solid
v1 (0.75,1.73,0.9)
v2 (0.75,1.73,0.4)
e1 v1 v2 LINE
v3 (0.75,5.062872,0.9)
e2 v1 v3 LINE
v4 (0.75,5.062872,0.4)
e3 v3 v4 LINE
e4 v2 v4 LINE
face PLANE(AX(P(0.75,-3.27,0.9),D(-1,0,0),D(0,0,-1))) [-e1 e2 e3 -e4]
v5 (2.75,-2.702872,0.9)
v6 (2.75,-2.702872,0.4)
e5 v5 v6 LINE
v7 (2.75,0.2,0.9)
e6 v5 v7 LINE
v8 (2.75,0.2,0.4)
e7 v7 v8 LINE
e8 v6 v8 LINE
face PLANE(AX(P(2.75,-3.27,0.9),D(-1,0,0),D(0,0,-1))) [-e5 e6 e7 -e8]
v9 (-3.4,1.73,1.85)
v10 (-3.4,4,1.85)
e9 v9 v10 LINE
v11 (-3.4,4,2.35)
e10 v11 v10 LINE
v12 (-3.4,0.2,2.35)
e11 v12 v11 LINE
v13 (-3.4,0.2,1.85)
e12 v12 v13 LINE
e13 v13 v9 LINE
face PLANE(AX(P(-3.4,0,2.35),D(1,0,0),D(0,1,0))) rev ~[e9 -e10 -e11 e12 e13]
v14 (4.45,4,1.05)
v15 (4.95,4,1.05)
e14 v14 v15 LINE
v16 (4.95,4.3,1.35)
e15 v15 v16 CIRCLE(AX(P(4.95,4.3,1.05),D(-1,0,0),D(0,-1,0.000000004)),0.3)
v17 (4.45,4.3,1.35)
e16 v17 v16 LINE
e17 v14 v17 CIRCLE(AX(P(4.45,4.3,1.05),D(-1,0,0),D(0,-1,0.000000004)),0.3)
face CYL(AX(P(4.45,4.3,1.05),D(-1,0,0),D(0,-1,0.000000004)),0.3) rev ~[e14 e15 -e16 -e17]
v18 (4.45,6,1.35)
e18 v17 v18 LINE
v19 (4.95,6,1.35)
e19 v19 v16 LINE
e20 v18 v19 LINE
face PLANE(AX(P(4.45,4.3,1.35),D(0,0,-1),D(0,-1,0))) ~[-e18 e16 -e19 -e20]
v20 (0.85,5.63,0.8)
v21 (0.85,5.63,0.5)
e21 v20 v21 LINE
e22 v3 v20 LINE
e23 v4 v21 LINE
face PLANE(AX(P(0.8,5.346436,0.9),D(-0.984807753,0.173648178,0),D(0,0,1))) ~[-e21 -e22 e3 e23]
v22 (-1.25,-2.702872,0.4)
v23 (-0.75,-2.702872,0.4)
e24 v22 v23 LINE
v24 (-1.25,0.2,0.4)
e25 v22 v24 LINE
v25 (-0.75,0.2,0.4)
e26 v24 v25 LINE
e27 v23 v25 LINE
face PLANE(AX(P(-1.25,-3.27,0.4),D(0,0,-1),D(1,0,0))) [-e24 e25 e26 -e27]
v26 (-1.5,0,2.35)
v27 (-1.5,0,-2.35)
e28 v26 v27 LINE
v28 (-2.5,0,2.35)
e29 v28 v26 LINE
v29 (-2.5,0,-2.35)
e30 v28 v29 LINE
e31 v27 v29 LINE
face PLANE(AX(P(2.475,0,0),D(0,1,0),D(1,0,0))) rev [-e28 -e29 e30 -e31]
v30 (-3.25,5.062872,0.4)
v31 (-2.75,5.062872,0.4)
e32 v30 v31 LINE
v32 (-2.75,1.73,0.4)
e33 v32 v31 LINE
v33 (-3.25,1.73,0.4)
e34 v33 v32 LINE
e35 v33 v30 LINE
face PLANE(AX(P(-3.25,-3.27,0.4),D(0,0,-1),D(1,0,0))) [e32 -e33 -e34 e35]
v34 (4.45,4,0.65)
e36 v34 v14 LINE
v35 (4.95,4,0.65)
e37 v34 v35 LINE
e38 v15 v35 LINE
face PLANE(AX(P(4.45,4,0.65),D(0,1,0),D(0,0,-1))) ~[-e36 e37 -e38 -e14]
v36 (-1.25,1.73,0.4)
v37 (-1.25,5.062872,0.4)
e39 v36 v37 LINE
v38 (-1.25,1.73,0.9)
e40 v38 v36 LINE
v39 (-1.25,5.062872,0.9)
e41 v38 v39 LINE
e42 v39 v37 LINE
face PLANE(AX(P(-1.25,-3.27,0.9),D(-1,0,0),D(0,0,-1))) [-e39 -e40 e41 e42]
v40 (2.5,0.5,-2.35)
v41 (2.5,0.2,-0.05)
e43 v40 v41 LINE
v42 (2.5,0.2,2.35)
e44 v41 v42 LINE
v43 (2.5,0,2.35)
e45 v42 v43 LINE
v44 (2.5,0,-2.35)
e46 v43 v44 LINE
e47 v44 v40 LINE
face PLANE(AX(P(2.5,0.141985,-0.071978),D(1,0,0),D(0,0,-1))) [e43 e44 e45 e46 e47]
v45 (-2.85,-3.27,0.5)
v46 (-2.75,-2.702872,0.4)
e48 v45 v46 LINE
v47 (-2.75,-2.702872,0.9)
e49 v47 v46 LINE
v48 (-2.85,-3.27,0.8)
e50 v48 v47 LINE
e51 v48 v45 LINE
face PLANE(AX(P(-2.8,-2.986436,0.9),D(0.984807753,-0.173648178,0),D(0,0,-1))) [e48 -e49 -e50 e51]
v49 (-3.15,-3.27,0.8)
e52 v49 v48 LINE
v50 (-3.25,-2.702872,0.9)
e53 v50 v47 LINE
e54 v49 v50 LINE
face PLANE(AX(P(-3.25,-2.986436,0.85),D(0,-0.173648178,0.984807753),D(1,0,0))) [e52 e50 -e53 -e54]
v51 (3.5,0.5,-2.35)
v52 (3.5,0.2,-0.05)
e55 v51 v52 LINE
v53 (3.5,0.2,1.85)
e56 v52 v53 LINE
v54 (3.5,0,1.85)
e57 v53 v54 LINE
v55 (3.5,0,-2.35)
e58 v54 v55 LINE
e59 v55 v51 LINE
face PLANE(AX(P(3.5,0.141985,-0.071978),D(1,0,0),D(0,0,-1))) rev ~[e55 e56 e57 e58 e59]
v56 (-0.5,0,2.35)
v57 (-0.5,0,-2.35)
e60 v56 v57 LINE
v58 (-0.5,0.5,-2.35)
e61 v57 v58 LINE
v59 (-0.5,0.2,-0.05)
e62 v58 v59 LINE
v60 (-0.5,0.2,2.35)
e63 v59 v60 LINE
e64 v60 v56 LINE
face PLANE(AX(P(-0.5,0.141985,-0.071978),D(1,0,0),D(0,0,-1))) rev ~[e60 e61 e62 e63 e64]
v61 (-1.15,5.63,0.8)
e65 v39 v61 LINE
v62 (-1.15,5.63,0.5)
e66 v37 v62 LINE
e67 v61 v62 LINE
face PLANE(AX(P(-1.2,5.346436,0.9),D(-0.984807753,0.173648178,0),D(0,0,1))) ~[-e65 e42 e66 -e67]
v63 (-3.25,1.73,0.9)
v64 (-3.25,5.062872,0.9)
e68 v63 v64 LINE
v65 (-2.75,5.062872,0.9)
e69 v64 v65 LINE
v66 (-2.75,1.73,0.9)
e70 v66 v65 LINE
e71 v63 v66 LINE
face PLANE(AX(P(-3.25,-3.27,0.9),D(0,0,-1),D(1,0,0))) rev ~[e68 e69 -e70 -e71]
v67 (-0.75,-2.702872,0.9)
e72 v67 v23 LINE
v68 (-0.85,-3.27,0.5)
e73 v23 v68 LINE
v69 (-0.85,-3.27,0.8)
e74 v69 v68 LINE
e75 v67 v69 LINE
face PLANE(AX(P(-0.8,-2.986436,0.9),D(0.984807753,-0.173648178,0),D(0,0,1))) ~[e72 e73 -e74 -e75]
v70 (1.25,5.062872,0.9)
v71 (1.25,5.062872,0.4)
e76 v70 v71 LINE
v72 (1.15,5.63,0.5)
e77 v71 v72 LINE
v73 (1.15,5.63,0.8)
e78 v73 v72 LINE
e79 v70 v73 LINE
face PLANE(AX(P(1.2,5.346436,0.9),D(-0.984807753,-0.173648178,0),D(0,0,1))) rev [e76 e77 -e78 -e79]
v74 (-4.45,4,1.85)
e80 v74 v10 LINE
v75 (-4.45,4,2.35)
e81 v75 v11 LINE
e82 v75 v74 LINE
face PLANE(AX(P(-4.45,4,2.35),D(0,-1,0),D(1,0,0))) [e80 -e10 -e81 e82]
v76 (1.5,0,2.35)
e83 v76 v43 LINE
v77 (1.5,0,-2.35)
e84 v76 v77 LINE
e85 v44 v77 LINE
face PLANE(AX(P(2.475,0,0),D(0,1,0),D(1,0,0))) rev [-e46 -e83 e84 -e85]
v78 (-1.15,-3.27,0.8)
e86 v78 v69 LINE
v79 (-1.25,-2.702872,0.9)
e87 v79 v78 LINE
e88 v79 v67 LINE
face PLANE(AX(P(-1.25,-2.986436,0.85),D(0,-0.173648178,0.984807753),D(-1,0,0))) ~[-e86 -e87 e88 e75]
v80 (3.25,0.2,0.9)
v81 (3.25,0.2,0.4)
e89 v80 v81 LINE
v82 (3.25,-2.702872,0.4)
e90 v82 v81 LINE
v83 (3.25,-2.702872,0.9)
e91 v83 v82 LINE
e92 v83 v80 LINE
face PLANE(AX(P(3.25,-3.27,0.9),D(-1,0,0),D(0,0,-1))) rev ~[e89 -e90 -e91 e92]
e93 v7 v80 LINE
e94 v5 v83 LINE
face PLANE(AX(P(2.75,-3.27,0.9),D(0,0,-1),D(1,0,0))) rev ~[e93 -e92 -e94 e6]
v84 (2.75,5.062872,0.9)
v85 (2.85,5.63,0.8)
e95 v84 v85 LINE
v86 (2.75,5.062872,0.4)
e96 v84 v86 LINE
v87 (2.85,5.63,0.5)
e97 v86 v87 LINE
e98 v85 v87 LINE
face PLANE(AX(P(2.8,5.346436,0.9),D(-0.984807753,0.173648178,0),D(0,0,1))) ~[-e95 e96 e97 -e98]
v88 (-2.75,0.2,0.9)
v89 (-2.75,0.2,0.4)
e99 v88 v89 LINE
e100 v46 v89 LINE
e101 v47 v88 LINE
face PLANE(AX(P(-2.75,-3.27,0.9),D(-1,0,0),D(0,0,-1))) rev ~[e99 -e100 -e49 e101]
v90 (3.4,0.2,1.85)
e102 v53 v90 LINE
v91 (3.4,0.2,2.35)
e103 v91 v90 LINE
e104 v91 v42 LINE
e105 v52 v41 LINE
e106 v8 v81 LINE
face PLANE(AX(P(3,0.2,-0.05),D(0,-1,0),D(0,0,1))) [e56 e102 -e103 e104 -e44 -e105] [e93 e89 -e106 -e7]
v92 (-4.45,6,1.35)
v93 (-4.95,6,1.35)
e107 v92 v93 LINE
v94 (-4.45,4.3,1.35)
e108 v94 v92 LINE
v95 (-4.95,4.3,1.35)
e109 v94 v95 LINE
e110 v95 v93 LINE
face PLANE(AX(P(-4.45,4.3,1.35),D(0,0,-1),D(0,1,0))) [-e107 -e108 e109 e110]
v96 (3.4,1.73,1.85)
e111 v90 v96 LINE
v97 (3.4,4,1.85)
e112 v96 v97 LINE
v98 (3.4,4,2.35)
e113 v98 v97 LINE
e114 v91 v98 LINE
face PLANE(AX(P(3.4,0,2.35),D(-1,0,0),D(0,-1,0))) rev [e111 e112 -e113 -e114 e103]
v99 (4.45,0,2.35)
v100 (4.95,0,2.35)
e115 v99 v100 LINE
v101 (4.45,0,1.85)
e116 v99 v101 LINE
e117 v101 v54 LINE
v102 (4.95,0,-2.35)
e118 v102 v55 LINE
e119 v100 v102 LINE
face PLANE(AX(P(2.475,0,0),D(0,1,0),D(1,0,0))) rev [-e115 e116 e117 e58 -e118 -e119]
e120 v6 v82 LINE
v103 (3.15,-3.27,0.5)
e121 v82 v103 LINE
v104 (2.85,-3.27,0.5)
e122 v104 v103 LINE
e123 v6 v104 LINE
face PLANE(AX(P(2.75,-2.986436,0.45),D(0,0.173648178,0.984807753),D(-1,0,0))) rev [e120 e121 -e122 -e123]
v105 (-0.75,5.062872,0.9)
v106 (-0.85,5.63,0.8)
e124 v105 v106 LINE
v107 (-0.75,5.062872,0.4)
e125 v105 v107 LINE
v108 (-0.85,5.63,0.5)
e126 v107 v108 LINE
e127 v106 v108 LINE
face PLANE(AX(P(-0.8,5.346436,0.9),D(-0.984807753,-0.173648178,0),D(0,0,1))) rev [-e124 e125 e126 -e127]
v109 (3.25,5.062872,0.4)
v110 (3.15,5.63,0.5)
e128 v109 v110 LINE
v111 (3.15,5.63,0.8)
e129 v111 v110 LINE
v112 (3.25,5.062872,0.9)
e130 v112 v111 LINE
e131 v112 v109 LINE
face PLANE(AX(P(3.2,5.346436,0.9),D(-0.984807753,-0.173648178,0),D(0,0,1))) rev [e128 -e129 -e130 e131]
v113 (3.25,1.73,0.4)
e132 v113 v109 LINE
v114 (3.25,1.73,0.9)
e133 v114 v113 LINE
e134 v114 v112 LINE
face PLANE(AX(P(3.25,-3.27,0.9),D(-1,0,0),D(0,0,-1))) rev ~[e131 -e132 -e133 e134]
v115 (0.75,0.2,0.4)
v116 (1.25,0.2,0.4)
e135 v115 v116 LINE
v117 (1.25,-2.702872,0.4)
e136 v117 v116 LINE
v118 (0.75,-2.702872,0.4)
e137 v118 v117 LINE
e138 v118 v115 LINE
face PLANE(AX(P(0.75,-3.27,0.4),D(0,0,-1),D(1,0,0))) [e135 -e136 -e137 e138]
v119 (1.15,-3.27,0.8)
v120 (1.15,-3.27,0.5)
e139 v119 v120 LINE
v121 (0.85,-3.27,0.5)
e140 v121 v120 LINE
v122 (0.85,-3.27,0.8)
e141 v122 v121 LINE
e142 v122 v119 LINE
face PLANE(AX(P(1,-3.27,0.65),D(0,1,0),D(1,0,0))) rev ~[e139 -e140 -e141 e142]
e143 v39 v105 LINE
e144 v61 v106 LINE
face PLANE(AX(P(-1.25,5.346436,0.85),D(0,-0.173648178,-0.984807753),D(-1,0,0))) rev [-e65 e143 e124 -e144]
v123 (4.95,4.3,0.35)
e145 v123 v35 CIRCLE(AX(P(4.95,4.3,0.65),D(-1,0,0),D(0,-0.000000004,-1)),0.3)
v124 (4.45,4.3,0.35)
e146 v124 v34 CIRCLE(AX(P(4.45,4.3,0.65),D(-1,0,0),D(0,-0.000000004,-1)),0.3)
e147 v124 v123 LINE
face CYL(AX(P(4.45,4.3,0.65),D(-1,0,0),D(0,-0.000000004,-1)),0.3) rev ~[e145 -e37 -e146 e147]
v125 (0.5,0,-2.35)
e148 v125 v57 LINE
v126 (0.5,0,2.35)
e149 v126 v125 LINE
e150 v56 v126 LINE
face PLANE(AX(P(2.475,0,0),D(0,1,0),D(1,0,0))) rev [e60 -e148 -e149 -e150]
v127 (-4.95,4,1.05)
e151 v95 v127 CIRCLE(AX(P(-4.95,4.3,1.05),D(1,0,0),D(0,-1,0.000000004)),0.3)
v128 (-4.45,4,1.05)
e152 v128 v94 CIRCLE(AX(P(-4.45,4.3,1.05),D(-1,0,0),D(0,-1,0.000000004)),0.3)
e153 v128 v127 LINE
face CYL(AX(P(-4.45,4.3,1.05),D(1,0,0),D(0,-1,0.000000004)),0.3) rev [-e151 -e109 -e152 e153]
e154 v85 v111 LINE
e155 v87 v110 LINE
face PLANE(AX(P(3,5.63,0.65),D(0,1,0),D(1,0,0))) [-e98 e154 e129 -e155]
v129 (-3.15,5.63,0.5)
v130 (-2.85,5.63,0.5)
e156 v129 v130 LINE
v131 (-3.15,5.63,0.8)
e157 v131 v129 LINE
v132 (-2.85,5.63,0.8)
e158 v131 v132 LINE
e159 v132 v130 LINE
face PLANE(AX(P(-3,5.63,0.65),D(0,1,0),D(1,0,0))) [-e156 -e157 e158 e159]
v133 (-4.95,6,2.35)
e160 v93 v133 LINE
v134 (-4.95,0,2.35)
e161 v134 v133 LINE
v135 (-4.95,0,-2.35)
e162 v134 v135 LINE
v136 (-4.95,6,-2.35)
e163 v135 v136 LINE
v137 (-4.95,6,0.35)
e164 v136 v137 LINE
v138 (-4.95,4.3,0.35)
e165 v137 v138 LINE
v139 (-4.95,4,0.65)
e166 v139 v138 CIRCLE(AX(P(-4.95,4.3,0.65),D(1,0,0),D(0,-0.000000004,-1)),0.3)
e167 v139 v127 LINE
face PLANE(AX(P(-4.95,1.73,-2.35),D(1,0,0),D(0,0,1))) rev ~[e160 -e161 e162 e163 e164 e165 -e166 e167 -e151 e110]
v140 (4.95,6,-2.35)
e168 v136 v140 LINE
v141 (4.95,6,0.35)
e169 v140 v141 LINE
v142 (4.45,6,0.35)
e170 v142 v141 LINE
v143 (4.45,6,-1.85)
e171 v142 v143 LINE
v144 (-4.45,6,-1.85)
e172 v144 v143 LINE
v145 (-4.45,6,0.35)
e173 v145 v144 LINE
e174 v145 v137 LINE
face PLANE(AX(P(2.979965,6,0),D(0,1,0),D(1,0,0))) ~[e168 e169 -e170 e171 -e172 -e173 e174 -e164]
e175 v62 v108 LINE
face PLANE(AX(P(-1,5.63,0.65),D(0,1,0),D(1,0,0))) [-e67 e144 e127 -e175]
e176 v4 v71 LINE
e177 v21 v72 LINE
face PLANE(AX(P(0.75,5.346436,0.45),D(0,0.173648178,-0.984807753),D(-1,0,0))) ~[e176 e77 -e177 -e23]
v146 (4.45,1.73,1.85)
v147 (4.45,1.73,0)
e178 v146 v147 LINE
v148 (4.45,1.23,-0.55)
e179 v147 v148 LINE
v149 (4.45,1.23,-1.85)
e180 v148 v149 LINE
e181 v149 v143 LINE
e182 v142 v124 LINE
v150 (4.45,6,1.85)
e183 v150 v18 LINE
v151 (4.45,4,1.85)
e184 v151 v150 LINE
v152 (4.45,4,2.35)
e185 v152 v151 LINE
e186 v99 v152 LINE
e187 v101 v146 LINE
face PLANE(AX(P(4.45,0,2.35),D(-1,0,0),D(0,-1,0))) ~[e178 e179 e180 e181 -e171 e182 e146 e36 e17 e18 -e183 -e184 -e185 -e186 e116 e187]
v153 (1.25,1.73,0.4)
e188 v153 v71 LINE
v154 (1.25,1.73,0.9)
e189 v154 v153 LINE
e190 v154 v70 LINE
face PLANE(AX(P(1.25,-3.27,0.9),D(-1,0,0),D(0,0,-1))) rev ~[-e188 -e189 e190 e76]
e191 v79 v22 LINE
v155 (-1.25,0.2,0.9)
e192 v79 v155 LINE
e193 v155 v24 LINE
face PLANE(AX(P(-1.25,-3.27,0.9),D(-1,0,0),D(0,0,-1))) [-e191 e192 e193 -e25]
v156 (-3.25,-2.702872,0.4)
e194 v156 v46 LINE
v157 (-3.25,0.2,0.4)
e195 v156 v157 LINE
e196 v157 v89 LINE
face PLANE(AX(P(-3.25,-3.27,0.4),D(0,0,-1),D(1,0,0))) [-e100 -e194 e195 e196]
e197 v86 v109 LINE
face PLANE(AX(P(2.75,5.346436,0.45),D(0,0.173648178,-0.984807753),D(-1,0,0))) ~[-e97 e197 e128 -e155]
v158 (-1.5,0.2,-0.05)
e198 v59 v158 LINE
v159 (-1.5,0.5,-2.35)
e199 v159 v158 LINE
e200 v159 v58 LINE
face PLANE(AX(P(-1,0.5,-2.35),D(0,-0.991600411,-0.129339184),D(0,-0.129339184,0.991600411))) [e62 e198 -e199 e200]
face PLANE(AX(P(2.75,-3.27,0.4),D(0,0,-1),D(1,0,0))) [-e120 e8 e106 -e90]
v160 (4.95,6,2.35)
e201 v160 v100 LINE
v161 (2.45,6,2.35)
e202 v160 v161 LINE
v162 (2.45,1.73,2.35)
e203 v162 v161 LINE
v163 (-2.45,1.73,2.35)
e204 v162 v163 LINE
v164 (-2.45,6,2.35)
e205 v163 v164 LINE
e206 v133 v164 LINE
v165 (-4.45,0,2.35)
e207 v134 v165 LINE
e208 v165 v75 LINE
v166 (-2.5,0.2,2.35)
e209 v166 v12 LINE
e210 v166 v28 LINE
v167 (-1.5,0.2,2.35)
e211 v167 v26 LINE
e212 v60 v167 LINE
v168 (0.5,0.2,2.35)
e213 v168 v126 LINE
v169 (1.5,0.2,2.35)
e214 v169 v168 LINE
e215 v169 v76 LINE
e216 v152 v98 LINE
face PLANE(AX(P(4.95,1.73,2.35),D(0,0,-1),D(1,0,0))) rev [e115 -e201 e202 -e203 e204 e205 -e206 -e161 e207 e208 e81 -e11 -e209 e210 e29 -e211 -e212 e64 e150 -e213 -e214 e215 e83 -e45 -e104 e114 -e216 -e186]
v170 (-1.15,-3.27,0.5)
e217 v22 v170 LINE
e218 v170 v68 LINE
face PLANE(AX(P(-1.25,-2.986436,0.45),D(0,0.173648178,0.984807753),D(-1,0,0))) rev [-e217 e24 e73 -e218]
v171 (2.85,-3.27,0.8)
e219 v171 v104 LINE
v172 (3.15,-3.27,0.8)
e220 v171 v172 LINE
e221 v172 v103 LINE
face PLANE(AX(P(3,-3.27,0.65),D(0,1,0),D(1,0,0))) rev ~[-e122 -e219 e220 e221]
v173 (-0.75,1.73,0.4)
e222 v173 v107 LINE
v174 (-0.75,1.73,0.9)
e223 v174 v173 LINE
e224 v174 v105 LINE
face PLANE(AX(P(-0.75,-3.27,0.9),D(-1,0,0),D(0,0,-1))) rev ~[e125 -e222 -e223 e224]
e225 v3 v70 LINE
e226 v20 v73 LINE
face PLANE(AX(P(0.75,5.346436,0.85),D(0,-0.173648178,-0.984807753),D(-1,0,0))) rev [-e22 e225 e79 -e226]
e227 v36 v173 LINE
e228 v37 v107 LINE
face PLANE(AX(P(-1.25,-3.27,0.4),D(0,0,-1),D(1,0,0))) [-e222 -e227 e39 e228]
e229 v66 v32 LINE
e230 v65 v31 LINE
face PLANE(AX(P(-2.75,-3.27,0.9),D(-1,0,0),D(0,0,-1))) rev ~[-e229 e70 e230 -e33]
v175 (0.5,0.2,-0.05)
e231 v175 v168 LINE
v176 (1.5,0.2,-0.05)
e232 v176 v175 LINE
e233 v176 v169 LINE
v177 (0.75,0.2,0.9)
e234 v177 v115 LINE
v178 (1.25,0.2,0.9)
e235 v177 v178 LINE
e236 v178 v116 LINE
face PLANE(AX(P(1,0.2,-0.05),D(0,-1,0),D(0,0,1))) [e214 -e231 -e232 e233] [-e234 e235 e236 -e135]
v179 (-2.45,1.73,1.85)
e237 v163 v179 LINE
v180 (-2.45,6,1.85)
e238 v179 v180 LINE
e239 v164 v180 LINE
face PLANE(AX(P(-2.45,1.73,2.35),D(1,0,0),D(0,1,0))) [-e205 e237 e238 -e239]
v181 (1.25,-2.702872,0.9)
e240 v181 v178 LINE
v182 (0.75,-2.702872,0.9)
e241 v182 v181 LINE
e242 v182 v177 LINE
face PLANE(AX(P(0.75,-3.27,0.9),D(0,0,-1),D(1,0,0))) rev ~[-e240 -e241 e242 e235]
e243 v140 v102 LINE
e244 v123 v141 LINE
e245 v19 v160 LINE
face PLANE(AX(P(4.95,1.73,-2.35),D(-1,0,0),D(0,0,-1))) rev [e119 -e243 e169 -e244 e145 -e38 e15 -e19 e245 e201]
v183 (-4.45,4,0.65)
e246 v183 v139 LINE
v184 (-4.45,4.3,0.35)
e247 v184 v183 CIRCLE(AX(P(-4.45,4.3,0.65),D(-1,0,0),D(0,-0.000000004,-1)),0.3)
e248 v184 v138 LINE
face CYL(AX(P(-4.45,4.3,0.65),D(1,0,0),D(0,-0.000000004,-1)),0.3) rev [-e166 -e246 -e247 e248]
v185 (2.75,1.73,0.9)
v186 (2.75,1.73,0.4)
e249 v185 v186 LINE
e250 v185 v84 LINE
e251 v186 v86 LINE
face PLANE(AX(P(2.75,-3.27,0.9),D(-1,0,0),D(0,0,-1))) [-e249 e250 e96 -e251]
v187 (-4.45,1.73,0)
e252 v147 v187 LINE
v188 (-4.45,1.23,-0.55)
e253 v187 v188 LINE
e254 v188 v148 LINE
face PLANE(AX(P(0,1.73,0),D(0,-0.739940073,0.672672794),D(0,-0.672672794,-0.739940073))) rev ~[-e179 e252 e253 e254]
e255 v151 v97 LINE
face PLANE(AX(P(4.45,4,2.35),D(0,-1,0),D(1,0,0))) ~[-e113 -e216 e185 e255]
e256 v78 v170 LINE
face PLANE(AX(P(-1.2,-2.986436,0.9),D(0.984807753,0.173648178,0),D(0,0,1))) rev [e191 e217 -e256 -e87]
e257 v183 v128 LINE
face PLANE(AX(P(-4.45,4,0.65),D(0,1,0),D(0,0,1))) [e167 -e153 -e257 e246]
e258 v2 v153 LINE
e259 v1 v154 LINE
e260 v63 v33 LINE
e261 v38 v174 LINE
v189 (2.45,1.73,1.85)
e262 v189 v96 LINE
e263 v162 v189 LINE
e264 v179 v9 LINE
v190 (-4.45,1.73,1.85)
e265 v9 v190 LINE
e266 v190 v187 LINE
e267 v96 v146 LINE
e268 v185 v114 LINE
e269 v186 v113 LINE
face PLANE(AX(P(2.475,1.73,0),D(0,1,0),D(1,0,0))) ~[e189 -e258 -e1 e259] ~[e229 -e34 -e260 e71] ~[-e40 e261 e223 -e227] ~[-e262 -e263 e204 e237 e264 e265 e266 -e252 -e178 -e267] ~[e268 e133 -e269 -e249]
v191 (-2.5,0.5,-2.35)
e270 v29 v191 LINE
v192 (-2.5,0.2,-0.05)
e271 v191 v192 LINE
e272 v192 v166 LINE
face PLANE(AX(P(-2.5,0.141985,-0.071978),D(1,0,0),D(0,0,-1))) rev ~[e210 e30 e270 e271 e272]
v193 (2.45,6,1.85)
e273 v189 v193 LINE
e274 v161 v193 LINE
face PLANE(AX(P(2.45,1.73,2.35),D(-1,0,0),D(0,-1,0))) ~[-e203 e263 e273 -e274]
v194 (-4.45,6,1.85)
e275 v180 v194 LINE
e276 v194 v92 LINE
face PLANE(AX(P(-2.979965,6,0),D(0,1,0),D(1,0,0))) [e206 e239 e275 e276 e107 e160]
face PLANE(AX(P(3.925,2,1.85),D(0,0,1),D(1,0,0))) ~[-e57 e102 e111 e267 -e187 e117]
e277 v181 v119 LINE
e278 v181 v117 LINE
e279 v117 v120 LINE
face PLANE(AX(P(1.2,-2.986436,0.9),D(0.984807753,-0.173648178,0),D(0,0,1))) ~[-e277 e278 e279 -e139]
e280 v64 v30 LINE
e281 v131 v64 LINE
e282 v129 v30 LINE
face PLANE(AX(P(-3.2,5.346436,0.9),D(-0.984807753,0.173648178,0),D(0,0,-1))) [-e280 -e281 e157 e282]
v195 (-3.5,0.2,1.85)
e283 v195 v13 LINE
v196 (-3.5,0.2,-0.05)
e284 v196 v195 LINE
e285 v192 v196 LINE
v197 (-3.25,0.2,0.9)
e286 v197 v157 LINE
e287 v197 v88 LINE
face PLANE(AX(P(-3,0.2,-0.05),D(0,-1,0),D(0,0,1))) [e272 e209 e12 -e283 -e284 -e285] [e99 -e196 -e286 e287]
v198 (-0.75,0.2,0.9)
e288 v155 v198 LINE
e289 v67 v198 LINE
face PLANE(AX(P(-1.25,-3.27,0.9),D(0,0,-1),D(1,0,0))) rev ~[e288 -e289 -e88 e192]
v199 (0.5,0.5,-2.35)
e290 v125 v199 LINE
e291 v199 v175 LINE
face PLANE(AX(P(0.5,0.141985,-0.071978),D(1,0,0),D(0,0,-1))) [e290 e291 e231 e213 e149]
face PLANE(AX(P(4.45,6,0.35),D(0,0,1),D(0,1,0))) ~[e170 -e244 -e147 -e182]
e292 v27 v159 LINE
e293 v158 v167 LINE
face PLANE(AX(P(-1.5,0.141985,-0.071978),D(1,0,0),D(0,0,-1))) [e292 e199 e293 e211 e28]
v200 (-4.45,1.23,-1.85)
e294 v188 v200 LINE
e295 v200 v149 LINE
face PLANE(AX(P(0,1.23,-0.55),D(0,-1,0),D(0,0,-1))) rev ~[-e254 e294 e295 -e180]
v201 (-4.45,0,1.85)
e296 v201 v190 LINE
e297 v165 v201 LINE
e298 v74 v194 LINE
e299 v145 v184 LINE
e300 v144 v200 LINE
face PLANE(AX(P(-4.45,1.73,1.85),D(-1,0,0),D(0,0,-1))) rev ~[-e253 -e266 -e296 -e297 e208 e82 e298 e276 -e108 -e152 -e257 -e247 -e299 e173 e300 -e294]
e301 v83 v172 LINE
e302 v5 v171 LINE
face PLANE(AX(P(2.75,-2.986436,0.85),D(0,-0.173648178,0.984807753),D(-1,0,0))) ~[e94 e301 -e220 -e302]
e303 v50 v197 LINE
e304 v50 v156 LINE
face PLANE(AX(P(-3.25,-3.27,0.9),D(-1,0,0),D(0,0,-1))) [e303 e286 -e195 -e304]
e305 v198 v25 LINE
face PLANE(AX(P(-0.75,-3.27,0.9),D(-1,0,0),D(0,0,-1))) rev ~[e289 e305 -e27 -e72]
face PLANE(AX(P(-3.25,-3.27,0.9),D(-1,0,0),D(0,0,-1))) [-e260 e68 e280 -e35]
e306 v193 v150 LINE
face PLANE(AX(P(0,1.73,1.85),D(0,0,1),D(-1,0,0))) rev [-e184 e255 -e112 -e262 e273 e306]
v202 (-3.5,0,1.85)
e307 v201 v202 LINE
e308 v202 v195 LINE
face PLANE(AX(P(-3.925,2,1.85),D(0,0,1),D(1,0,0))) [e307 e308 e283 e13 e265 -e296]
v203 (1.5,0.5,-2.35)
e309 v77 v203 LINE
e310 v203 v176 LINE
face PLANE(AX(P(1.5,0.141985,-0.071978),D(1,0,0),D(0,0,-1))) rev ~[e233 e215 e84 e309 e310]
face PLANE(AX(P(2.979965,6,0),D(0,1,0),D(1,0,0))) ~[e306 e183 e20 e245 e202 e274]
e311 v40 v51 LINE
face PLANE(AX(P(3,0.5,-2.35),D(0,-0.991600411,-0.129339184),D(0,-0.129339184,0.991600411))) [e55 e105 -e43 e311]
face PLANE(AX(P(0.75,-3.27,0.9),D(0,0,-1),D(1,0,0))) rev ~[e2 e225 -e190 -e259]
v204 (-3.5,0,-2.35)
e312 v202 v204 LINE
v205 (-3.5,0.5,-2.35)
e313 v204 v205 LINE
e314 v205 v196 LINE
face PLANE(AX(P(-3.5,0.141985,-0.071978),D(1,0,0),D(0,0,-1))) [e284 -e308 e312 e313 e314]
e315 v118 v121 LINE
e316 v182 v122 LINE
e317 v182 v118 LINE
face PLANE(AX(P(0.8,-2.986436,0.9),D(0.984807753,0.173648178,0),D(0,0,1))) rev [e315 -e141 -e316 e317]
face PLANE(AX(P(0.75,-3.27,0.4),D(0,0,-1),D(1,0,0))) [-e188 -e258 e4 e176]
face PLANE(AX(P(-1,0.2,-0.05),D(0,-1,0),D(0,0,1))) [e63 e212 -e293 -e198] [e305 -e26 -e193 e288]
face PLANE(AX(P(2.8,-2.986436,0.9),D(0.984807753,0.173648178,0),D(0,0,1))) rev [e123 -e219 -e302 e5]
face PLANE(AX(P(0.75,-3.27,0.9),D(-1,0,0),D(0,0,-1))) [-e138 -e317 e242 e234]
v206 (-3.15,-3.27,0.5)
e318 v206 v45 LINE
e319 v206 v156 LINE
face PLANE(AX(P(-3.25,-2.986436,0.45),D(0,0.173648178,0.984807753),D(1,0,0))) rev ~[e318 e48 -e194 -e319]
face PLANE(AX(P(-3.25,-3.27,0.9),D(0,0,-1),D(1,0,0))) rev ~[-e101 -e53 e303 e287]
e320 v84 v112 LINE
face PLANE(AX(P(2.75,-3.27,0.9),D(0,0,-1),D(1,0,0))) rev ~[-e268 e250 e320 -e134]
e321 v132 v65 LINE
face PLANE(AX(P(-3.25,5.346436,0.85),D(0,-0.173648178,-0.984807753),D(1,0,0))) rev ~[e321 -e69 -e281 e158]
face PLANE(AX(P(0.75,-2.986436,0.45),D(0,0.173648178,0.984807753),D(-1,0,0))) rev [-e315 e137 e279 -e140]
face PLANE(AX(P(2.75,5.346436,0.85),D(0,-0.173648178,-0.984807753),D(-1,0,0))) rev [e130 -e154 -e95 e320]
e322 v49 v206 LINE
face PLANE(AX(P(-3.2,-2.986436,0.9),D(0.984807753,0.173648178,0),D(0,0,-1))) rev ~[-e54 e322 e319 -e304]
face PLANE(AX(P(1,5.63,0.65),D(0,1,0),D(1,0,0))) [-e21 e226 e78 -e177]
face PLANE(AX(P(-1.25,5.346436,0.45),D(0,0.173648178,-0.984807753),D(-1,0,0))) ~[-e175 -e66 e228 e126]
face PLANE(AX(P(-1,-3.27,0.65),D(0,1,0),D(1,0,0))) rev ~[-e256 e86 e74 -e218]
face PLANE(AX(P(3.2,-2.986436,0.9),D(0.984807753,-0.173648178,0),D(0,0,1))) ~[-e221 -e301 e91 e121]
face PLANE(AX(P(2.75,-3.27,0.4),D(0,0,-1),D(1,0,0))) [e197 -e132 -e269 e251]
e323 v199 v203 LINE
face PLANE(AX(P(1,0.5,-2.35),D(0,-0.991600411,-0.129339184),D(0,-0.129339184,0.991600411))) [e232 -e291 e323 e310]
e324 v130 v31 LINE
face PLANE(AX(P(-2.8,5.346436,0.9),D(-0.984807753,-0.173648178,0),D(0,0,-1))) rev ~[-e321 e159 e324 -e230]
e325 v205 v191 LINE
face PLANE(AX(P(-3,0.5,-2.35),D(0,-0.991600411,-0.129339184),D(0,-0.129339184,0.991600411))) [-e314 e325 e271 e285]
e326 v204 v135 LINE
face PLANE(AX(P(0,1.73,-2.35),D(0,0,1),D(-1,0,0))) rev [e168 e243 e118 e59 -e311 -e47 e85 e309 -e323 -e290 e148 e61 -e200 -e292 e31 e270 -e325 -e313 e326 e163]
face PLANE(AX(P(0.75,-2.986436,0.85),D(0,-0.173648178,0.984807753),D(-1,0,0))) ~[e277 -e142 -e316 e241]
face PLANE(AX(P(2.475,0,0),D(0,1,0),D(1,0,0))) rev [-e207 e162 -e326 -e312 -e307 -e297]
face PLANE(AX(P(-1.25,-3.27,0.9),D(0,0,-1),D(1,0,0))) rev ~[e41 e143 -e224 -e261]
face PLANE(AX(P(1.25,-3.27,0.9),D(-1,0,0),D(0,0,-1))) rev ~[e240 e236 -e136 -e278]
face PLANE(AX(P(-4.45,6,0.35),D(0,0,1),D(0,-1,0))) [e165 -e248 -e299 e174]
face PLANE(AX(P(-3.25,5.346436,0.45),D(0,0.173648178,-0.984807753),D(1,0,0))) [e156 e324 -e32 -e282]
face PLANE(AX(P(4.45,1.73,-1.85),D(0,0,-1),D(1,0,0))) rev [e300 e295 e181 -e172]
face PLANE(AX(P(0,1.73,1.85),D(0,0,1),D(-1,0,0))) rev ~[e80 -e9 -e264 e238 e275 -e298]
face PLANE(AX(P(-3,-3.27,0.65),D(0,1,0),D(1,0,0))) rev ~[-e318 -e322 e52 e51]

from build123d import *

# Parameters (mm, degrees)
SKETCH_1_W                                 = 4.95
SKETCH_1_H                                 = 4.7
EXTRUDE_1_DEPTH                            = 1.73
EXTRUDE_2_DEPTH                            = 4.27
CUT_EXTRUDE_1_DEPTH                        = 1.5
CUT_EXTRUDE_3_DEPTH                        = 4.45
SKETCH_4_W                                 = 1.05
SKETCH_4_H                                 = 4
SKETCH_4_W_2                               = 2.45
SKETCH_4_H_2                               = 4.27
CUT_EXTRUDE_2_DEPTH                        = 0.5
CUT_EXTRUDE_4_DEPTH                        = 0.5
EXTRUDE_START                              = -5
SKETCH_5_W                                 = 0.5
SKETCH_5_H                                 = 0.5
EXTRUDE_3_DEPTH                            = 8.9
CHAMFER_1_SIZE                             = 0.1
CHAMFER_1_SIZE2                            = 0.567128182
CHAMFER_1_PART_2_SIZE                      = 0.1
CHAMFER_1_PART_2_SIZE2                     = 0.567128182
PATTERN_LINEAR_1_COUNT                     = 4
PATTERN_LINEAR_1_PITCH                     = 2
CHAMFER_1_OF_PATTERN_LINEAR_1_SIZE2        = 0.1
CHAMFER_1_OF_PATTERN_LINEAR_1_SIZE         = 0.567128182
CHAMFER_1_PART_2_OF_PATTERN_LINEAR_1_SIZE2 = 0.1
CHAMFER_1_PART_2_OF_PATTERN_LINEAR_1_SIZE  = 0.567128182


with BuildPart() as part:
    # Эскиз1 → Бобышка-Вытянуть1 (new body)
    with BuildSketch(Plane(origin=(0, 0, 0), x_dir=(1, 0, 0), z_dir=(0, 1, 0))):
        with Locations((-2.475, 0)):
            Rectangle(SKETCH_1_W, SKETCH_1_H)
    extrude_1 = extrude(amount=EXTRUDE_1_DEPTH)

    # Эскиз2 → Бобышка-Вытянуть2 (add)
    with BuildSketch(Plane(origin=(0, 1.73, 0), x_dir=(1, 0, 0), z_dir=(0, 1, 0))):
        Polygon((0, 2.35), (-4.95, 2.35), (-4.95, -2.35), (0, -2.35), (0, -1.85), (-4.45, -1.85), (-4.45, 1.85), (0, 1.85), align=None)
    extrude_2 = extrude(amount=EXTRUDE_2_DEPTH)

    # Эскиз3 → Вырез-Вытянуть1 (cut, through all)
    with BuildSketch(Plane(origin=(-4.45, 0, 0), x_dir=(0, 0, -1), z_dir=(1, 0, 0))):
        with BuildLine():
            Line((-1.35, 6), (-0.35, 6))
            Line((-0.35, 6), (-0.35, 4.3))
            ThreePointArc((-0.35, 4.3), (-0.437867966, 4.087867966), (-0.65, 4))
            Line((-0.65, 4), (-1.05, 4))
            ThreePointArc((-1.05, 4), (-1.262132034, 4.087867966), (-1.35, 4.3))
            Line((-1.35, 4.3), (-1.35, 6))
        make_face()
    cut_extrude_1 = extrude(amount=-CUT_EXTRUDE_1_DEPTH, mode=Mode.SUBTRACT)

    # Эскиз8 → Вырез-Вытянуть3 (cut)
    with BuildSketch(Plane(origin=(0, 0, 0), x_dir=(0, 0, -1), z_dir=(1, 0, 0))):
        Polygon((0, 1.73), (0.55, 1.23), (1.85, 1.23), (1.85, 1.73), align=None)
    cut_extrude_3 = extrude(amount=-CUT_EXTRUDE_3_DEPTH, mode=Mode.SUBTRACT)

    # Эскиз4 → Вырез-Вытянуть2 (cut)
    with BuildSketch(Plane.XY.offset(2.35)):
        with Locations((-3.925, 2)):
            Rectangle(SKETCH_4_W, SKETCH_4_H)
        with Locations((-1.225, 3.865)):
            Rectangle(SKETCH_4_W_2, SKETCH_4_H_2)
    cut_extrude_2 = extrude(amount=-CUT_EXTRUDE_2_DEPTH, mode=Mode.SUBTRACT)

    # Зеркальное отражение1: Бобышка-Вытянуть1, Бобышка-Вытянуть2, Вырез-Вытянуть1, Вырез-Вытянуть3, Вырез-Вытянуть2 across plane
    add(extrude_1.mirror(Plane(origin=(0, 0, 0), x_dir=(0, 0, 1), z_dir=(1, 0, 0))))
    add(extrude_2.mirror(Plane(origin=(0, 0, 0), x_dir=(0, 0, 1), z_dir=(1, 0, 0))))
    add(cut_extrude_1.mirror(Plane(origin=(0, 0, 0), x_dir=(0, 0, 1), z_dir=(1, 0, 0))), mode=Mode.SUBTRACT)
    add(cut_extrude_3.mirror(Plane(origin=(0, 0, 0), x_dir=(0, 0, 1), z_dir=(1, 0, 0))), mode=Mode.SUBTRACT)
    add(cut_extrude_2.mirror(Plane(origin=(0, 0, 0), x_dir=(0, 0, 1), z_dir=(1, 0, 0))), mode=Mode.SUBTRACT)

    # Эскиз9 → Вырез-Вытянуть4 (cut, symmetric)
    with BuildSketch(Plane.ZY.offset(3)):
        Polygon((2.35, 0), (-2.35, 0), (-2.35, 0.5), (-0.05, 0.2), (2.35, 0.2), align=None)
    cut_extrude_4 = extrude(amount=CUT_EXTRUDE_4_DEPTH, both=True, mode=Mode.SUBTRACT)

    # Эскиз5 → Бобышка-Вытянуть3 (add)
    with BuildSketch(Plane(origin=(0, 1.73, 0), x_dir=(1, 0, 0), z_dir=(0, 1, 0)).offset(EXTRUDE_START)):
        with Locations((-3, -0.65)):
            Rectangle(SKETCH_5_W, SKETCH_5_H)
    extrude_3 = extrude(amount=EXTRUDE_3_DEPTH)

    # Фаска1
    chamfer_1_edges = [part.edges().sort_by_distance(p)[0] for p in [
        (-3.25, 5.63, 0.65),
        (-3, 5.63, 0.4),
        (-2.75, 5.63, 0.65),
        (-3, 5.63, 0.9),
    ]]
    chamfer_1_side = [part.faces().sort_by_distance(p)[0] for p in [
        (-3, 5.63, 0.65),
    ]]
    chamfer(chamfer_1_edges, length=CHAMFER_1_SIZE, length2=CHAMFER_1_SIZE2, reference=chamfer_1_side[0])

    # Фаска1 part 2
    chamfer_1_part_2_edges = [part.edges().sort_by_distance(p)[0] for p in [
        (-3.25, -3.27, 0.65),
        (-3, -3.27, 0.4),
        (-2.75, -3.27, 0.65),
        (-3, -3.27, 0.9),
    ]]
    chamfer_1_part_2_side = [part.faces().sort_by_distance(p)[0] for p in [
        (-3, -3.27, 0.65),
    ]]
    chamfer(chamfer_1_part_2_edges, length=CHAMFER_1_PART_2_SIZE, length2=CHAMFER_1_PART_2_SIZE2, reference=chamfer_1_part_2_side[0])

    # Линейный массив1: Вырез-Вытянуть4, Бобышка-Вытянуть3 ×4
    with Locations(*[(i * PATTERN_LINEAR_1_PITCH, 0, 0) for i in range(1, PATTERN_LINEAR_1_COUNT)]):
        add(cut_extrude_4, mode=Mode.SUBTRACT)
        add(extrude_3)

    # Фаска1 of Линейный массив1
    chamfer_1_of_pattern_linear_1_edges = [part.edges().sort_by_distance(p)[0] for p in [
        (-1.25, 5.63, 0.65),
        (-1, 5.63, 0.4),
        (-0.75, 5.63, 0.65),
        (-1, 5.63, 0.9),
        (0.75, 5.63, 0.65),
        (1, 5.63, 0.4),
        (1.25, 5.63, 0.65),
        (1, 5.63, 0.9),
        (2.75, 5.63, 0.65),
        (3, 5.63, 0.4),
        (3.25, 5.63, 0.65),
        (3, 5.63, 0.9),
    ]]
    chamfer(chamfer_1_of_pattern_linear_1_edges, length=CHAMFER_1_OF_PATTERN_LINEAR_1_SIZE, length2=CHAMFER_1_OF_PATTERN_LINEAR_1_SIZE2)

    # Фаска1 part 2 of Линейный массив1
    chamfer_1_part_2_of_pattern_linear_1_edges = [part.edges().sort_by_distance(p)[0] for p in [
        (-1.25, -3.27, 0.65),
        (-1, -3.27, 0.4),
        (-0.75, -3.27, 0.65),
        (-1, -3.27, 0.9),
        (0.75, -3.27, 0.65),
        (1, -3.27, 0.4),
        (1.25, -3.27, 0.65),
        (1, -3.27, 0.9),
        (2.75, -3.27, 0.65),
        (3, -3.27, 0.4),
        (3.25, -3.27, 0.65),
        (3, -3.27, 0.9),
    ]]
    chamfer(chamfer_1_part_2_of_pattern_linear_1_edges, length=CHAMFER_1_PART_2_OF_PATTERN_LINEAR_1_SIZE, length2=CHAMFER_1_PART_2_OF_PATTERN_LINEAR_1_SIZE2)


solid = part.part
